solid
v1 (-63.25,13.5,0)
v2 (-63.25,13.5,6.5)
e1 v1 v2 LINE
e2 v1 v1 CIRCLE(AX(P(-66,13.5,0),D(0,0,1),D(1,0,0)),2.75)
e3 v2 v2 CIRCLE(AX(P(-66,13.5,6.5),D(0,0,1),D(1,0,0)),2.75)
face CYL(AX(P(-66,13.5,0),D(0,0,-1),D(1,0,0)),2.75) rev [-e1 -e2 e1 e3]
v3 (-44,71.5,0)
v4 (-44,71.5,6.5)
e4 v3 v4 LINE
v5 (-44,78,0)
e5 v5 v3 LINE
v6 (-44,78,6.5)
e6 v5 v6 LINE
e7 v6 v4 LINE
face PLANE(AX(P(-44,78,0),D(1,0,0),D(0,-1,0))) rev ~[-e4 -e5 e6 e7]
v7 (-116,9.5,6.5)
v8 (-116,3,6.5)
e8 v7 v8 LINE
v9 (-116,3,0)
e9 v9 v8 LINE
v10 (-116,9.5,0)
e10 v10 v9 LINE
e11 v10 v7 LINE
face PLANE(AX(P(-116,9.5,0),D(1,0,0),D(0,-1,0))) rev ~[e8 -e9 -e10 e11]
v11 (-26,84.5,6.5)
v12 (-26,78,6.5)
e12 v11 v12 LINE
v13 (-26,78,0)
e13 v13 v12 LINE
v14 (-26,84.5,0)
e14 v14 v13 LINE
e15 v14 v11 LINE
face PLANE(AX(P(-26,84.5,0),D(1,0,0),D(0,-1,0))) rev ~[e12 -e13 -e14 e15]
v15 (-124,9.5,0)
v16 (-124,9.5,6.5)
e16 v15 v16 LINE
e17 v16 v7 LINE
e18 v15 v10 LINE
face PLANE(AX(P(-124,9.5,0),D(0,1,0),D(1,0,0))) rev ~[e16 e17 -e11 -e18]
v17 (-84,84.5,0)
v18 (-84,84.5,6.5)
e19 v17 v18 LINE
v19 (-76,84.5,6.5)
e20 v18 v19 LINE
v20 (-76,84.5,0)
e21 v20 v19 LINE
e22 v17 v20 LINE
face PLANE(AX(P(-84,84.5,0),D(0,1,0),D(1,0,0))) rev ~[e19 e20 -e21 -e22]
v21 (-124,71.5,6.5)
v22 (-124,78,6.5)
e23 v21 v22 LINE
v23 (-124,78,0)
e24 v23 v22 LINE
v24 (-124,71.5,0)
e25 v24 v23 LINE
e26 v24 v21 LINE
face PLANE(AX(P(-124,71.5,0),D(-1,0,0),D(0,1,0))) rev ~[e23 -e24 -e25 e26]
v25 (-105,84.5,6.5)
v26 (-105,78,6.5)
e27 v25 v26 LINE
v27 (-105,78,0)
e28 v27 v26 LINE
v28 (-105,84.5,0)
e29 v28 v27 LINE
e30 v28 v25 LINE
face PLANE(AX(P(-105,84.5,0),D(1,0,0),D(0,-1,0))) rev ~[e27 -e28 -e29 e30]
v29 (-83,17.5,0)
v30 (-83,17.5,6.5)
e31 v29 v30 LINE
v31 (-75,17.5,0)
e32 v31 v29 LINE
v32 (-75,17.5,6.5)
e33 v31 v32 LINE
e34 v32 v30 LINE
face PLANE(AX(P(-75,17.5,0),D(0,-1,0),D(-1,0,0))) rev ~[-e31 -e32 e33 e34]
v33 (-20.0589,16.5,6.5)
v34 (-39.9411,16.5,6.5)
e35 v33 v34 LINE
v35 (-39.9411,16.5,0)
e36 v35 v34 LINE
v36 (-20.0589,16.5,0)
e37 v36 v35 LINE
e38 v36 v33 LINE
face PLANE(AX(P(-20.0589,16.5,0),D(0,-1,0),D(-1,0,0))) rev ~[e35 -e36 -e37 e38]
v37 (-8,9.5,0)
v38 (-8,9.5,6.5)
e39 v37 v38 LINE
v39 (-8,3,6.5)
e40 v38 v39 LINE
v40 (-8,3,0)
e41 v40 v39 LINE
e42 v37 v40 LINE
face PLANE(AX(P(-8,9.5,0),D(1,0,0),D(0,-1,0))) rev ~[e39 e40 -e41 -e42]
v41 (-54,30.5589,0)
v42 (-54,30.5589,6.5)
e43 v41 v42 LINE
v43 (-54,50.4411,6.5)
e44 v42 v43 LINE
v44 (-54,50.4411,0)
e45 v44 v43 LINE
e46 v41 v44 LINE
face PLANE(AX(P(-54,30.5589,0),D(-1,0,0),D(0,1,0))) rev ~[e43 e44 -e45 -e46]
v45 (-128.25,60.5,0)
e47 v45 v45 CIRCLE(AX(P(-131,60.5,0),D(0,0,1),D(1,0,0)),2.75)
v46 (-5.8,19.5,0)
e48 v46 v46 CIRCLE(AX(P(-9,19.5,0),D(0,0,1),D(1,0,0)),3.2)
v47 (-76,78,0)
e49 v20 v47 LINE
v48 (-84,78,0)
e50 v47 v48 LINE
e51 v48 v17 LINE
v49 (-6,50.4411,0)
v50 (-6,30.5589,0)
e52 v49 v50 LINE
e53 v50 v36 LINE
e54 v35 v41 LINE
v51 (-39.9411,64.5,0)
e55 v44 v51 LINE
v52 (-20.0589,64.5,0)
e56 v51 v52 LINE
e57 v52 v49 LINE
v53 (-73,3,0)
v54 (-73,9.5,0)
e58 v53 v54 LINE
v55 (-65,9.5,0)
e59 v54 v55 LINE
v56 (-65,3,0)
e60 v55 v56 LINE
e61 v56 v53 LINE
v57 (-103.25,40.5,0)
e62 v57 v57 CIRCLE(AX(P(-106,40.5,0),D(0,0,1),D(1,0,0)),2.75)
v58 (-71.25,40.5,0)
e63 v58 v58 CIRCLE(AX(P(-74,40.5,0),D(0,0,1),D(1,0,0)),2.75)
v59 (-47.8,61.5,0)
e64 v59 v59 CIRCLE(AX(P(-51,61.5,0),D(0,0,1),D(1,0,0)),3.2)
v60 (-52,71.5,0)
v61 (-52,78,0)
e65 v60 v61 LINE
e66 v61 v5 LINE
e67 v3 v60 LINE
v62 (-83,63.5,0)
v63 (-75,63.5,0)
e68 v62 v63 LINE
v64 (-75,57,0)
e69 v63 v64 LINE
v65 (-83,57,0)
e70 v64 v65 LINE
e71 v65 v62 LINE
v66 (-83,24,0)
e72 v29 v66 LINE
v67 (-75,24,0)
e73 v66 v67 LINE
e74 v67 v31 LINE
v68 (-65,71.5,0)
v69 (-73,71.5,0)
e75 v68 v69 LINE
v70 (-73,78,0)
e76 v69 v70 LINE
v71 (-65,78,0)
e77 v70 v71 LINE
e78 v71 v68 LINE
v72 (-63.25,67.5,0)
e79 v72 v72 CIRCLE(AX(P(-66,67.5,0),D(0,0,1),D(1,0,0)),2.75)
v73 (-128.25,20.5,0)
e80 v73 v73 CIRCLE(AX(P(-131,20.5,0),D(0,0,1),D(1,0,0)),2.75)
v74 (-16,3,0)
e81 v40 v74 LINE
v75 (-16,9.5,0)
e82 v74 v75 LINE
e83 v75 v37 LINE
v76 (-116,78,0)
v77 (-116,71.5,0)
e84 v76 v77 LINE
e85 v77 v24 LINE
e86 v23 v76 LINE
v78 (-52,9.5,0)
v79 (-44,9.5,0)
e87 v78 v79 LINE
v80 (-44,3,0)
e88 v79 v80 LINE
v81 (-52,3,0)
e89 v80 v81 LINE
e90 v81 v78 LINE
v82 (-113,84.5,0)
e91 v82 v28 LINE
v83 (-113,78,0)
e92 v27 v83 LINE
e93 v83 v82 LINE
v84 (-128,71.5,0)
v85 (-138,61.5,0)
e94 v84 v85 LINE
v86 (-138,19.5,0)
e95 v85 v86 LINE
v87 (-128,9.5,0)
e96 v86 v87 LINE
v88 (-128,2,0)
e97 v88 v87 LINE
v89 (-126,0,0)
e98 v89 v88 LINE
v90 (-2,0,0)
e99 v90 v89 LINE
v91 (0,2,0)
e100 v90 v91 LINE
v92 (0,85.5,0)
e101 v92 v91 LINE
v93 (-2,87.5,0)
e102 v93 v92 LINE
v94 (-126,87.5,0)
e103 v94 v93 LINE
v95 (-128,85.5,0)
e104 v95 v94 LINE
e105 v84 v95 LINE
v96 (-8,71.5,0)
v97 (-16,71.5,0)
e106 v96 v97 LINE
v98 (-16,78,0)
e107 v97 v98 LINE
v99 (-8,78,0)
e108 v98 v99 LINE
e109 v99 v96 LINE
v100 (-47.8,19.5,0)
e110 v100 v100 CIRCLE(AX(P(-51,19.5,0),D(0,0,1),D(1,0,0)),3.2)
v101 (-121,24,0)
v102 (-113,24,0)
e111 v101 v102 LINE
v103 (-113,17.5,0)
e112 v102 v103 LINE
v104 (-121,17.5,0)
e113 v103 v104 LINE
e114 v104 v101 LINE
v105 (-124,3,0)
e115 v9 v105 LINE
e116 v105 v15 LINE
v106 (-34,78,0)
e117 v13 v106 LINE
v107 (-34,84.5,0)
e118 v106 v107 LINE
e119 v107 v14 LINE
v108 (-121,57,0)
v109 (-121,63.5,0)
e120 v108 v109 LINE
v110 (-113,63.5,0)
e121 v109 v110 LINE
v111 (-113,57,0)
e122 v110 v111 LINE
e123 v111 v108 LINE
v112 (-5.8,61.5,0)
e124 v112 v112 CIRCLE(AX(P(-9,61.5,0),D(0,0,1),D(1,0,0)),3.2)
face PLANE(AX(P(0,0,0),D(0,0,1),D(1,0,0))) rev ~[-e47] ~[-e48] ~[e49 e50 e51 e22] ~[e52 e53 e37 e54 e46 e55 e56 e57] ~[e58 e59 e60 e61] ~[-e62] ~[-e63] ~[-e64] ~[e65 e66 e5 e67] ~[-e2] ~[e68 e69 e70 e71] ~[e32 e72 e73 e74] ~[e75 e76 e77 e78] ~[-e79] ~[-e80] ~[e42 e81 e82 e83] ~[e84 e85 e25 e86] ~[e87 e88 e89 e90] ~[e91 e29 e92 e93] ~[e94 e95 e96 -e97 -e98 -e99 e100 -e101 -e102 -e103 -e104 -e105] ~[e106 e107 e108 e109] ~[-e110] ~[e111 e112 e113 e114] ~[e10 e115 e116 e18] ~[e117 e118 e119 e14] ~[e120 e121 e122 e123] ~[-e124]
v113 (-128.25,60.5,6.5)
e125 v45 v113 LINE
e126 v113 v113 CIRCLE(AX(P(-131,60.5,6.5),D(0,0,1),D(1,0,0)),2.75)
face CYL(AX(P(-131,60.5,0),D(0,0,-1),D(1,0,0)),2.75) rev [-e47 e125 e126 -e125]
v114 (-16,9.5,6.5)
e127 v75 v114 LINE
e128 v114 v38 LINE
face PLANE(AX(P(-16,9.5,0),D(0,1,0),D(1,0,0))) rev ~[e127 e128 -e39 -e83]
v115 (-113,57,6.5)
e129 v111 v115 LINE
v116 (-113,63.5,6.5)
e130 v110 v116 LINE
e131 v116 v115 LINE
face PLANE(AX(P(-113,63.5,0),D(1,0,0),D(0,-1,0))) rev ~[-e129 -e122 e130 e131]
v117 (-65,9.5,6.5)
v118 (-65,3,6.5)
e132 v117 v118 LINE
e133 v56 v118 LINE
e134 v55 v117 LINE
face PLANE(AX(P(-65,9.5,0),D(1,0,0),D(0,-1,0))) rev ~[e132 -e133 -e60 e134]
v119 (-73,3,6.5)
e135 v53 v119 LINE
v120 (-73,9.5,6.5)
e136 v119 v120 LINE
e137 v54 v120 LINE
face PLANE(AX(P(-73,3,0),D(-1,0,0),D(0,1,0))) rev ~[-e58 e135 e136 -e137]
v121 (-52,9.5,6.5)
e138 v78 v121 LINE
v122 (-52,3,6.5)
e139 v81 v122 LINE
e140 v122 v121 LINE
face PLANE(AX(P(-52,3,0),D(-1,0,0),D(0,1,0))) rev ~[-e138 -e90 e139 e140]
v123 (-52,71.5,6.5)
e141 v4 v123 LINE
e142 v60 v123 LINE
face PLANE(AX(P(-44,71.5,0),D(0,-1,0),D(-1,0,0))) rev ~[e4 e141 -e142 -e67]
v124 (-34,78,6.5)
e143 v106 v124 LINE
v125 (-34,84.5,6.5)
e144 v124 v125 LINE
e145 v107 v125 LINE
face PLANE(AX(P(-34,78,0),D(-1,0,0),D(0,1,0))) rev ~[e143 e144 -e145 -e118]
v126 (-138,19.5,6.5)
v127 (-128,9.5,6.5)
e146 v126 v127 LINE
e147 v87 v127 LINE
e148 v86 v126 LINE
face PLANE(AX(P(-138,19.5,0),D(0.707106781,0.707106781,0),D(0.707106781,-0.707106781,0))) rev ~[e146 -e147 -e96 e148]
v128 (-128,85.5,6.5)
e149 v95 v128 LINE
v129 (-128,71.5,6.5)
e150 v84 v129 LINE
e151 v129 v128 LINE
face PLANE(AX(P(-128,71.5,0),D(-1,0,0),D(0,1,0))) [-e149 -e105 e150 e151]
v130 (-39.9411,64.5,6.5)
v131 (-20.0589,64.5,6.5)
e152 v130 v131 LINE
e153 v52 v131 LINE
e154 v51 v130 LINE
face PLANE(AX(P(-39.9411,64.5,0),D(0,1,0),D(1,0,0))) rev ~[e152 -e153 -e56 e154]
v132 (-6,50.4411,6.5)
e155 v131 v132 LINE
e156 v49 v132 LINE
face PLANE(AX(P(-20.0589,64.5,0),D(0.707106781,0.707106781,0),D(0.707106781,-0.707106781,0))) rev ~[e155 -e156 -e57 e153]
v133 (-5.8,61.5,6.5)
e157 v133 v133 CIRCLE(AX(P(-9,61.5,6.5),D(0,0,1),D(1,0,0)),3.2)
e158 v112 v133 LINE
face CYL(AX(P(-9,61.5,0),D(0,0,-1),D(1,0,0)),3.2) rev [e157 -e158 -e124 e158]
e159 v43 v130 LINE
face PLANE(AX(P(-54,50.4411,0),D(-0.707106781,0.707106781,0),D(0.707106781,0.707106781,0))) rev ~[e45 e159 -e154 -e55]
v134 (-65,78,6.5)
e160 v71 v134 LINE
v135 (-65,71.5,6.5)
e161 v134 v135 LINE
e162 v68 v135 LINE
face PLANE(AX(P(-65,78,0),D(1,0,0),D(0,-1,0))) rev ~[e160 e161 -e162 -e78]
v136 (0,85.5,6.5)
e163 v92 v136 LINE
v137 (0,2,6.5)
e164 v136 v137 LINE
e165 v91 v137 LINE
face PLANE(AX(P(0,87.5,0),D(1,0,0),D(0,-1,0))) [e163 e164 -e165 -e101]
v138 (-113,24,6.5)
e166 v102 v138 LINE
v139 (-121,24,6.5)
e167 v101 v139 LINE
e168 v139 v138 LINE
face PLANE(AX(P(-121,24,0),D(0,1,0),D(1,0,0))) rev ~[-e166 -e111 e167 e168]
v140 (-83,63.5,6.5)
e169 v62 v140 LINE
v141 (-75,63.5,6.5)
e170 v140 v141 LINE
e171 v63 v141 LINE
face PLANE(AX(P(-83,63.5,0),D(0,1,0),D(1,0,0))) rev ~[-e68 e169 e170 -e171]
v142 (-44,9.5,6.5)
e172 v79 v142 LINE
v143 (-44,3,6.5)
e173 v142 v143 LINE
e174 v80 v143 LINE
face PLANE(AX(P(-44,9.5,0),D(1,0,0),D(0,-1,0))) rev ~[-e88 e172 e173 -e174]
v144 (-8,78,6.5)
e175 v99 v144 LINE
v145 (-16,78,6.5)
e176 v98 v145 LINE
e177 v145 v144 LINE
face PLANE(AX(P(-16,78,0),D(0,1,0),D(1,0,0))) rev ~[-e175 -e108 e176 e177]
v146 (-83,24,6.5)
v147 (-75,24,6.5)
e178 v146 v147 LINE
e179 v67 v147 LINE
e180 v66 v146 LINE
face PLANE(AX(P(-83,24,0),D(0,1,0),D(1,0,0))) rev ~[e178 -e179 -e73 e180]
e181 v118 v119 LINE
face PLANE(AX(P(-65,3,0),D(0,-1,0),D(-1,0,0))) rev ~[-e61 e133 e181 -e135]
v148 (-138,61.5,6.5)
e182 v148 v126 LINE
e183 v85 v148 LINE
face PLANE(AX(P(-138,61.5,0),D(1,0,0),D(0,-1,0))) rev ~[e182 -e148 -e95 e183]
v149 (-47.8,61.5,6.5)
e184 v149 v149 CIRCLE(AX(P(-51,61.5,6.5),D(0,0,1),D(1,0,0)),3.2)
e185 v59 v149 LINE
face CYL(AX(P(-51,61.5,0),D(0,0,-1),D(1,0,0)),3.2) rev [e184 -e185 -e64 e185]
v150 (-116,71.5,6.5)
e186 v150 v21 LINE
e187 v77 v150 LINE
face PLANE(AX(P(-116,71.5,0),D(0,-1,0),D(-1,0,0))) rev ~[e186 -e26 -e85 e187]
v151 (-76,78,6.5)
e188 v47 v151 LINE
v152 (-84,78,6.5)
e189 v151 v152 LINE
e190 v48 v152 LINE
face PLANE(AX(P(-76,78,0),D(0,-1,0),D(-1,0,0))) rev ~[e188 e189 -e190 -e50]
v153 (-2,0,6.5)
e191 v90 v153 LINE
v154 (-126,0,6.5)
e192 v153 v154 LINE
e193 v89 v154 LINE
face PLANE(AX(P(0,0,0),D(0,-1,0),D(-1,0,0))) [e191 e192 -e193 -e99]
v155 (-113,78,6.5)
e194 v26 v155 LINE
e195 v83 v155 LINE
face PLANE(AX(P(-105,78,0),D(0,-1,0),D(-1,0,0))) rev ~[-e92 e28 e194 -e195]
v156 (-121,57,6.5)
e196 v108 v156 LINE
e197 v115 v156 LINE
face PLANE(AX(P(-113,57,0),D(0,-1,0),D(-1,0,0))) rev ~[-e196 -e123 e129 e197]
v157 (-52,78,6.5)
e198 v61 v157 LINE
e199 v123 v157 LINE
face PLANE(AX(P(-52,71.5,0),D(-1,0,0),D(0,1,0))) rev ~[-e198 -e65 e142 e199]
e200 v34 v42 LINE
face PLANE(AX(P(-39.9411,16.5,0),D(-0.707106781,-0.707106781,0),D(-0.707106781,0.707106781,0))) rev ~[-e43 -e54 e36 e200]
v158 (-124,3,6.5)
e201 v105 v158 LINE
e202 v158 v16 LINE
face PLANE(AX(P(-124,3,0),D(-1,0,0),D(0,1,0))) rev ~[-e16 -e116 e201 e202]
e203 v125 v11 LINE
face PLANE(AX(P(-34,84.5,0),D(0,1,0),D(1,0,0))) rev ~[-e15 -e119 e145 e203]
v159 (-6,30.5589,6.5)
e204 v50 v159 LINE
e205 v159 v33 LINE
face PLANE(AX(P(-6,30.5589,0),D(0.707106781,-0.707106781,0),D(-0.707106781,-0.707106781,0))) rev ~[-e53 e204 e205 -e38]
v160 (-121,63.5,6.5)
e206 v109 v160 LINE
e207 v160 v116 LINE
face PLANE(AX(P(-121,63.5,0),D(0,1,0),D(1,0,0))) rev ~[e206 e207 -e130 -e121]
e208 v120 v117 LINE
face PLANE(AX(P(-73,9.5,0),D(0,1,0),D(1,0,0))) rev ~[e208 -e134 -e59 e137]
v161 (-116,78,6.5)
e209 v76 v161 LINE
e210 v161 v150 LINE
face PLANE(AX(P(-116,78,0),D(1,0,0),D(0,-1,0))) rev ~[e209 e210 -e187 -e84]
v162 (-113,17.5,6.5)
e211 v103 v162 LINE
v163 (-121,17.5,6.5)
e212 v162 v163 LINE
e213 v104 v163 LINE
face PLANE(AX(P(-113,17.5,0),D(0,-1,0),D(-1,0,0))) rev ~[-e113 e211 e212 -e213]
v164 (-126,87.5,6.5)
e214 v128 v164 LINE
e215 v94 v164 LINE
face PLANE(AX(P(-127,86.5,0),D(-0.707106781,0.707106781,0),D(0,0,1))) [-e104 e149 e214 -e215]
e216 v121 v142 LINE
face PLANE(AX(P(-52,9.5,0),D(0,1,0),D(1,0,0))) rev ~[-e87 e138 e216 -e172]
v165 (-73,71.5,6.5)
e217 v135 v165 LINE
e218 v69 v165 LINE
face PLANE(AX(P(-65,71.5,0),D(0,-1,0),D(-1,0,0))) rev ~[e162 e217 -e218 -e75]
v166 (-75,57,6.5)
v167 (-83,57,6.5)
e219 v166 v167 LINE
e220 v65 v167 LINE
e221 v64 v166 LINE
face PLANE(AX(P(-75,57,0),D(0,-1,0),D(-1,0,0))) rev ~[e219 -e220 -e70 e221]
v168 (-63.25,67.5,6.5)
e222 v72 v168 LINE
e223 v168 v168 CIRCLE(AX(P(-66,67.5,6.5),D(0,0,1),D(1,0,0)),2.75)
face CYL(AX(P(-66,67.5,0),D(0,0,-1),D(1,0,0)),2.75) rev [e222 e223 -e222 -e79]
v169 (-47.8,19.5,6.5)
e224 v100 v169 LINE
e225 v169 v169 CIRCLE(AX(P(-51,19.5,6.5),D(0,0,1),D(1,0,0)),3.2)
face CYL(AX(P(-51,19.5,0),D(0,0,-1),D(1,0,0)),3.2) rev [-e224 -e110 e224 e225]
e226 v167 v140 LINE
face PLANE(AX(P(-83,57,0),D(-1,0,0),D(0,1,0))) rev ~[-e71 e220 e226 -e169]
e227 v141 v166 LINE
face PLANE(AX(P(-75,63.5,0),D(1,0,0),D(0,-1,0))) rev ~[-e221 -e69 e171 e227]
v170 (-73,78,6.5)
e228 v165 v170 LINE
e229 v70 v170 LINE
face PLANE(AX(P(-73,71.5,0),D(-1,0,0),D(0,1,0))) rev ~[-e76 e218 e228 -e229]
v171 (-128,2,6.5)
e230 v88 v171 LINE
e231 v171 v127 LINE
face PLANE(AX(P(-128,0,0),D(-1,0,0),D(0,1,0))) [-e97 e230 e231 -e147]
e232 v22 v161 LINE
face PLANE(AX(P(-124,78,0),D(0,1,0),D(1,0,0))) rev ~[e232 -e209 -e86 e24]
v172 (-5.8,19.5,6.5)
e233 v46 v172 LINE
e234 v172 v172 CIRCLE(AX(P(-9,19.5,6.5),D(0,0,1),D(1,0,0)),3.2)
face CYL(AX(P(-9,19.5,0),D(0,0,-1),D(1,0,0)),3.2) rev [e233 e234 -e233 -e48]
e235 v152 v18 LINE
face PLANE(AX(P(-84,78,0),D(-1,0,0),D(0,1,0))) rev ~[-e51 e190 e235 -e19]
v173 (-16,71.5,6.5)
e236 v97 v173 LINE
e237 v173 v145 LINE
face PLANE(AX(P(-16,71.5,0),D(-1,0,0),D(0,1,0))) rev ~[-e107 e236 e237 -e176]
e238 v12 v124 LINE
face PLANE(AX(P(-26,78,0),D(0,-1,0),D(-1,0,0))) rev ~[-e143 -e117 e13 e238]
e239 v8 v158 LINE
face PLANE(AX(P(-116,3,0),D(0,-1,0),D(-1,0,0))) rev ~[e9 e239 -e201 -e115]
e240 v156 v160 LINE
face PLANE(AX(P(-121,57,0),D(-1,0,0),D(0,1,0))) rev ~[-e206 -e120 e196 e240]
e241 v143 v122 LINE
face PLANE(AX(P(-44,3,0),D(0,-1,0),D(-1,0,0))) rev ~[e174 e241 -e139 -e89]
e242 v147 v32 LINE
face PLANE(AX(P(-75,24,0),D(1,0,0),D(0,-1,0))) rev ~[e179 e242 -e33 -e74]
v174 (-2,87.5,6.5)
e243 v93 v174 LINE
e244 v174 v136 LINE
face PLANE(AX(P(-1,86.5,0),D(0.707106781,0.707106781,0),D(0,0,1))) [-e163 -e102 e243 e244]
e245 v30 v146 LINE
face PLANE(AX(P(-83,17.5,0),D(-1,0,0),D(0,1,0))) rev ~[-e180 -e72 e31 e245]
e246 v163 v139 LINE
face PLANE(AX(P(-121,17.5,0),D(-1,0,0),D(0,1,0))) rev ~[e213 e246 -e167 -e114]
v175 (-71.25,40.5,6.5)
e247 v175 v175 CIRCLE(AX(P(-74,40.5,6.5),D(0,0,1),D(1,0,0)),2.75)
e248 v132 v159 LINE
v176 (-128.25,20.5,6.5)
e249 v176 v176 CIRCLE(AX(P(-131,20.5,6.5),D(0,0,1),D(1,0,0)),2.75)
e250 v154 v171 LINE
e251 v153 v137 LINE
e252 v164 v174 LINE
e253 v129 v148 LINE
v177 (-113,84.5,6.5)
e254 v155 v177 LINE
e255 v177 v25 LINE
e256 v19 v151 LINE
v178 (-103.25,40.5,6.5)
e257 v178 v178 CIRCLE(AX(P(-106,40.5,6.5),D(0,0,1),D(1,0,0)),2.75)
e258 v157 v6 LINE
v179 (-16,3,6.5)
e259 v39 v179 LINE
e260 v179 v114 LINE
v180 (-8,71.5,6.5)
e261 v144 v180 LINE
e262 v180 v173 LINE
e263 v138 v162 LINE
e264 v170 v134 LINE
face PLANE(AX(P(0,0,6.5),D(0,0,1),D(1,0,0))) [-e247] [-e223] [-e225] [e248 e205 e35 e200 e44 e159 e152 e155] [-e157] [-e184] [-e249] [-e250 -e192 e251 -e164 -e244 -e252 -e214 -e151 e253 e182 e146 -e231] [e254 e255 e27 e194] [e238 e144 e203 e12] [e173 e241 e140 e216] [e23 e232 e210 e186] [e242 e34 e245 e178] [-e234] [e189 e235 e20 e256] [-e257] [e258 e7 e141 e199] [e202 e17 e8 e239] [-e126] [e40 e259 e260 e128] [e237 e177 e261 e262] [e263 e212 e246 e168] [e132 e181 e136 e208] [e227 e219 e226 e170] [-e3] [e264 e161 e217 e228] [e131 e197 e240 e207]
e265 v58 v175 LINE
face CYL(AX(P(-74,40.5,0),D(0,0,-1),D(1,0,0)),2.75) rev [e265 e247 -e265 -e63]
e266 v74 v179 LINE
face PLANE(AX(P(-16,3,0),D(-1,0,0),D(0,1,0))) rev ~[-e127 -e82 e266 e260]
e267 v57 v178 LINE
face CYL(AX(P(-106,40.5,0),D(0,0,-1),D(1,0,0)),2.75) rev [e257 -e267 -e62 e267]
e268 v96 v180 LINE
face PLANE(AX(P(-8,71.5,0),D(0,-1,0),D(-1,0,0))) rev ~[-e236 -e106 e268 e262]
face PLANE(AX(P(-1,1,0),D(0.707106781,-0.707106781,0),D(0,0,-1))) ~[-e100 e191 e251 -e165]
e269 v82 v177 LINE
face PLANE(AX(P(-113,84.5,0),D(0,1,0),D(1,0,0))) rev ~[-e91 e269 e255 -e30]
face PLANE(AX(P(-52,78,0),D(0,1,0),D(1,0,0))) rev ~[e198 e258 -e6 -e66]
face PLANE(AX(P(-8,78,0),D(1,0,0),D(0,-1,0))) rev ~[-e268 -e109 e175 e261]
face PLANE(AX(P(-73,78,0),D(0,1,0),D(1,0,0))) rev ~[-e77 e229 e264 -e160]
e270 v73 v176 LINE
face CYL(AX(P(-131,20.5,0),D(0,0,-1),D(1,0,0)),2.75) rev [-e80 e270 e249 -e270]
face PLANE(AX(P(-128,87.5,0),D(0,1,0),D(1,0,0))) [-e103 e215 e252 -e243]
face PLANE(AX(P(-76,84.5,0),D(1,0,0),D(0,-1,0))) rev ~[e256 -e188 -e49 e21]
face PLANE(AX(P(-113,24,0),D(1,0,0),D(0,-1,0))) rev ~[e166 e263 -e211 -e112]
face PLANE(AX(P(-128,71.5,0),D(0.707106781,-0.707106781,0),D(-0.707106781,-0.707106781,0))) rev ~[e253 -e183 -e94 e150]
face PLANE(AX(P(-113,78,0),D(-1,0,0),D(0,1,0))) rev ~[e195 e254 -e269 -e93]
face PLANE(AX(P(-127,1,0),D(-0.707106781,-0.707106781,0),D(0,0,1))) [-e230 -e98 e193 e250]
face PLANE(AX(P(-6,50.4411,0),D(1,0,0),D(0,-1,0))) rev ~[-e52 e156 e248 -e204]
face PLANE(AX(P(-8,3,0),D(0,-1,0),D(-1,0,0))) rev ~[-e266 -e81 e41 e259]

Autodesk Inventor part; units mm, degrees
ref_plane "YZ Plane" through (0, 0, 0) normal (1, 0, 0) x (0, 1, 0)
ref_plane "XZ Plane" through (0, 0, 0) normal (0, 1, 0) x (-1, 0, 0)
ref_plane "XY Plane" through (0, 0, 0) normal (0, 0, 1) x (1, 0, 0)
sketch "Sketch1" plane through (0, 0, 0) normal (0, 0, 1) x (1, 0, 0)
  line L0 (0, 0) -> (-128, 0)
  line L1 (-128, 87.5) -> (0, 87.5)
  line L2 (0, 87.5) -> (0, 0)
  line L3 (-128, 71.5) -> (-138, 61.5)
  line L4 (-138, 61.5) -> (-138, 19.5)
  line L5 (-138, 19.5) -> (-128, 9.5)
  line L6 (-128, 0) -> (-128, 9.5)
  line L7 (-128, 71.5) -> (-128, 87.5)
  line L8 (-52, 9.5) -> (-44, 9.5)
  line L9 (-44, 9.5) -> (-44, 3)
  line L10 (-44, 3) -> (-52, 3)
  line L11 (-52, 3) -> (-52, 9.5)
  line L12 (-52, 78) -> (-44, 78)
  line L13 (-44, 78) -> (-44, 71.5)
  line L14 (-44, 71.5) -> (-52, 71.5)
  line L15 (-52, 71.5) -> (-52, 78)
  line L16 (-16, 78) -> (-8, 78)
  line L17 (-8, 78) -> (-8, 71.5)
  line L18 (-8, 71.5) -> (-16, 71.5)
  line L19 (-16, 71.5) -> (-16, 78)
  line L20 (-16, 9.5) -> (-8, 9.5)
  line L21 (-8, 9.5) -> (-8, 3)
  line L22 (-8, 3) -> (-16, 3)
  line L23 (-16, 3) -> (-16, 9.5)
  line L24 (-34, 84.5) -> (-26, 84.5)
  line L25 (-26, 84.5) -> (-26, 78)
  line L26 (-26, 78) -> (-34, 78)
  line L27 (-34, 78) -> (-34, 84.5)
  line L28 (-6, 50.4411) -> (-6, 30.5589)
  line L29 (-6, 30.5589) -> (-20.0589, 16.5)
  line L30 (-20.0589, 16.5) -> (-39.9411, 16.5)
  line L31 (-39.9411, 16.5) -> (-54, 30.5589)
  line L32 (-54, 30.5589) -> (-54, 50.4411)
  line L33 (-54, 50.4411) -> (-39.9411, 64.5)
  line L34 (-39.9411, 64.5) -> (-20.0589, 64.5)
  line L35 (-20.0589, 64.5) -> (-6, 50.4411)
  line L36 (-51, 61.5) -> (-9, 61.5) construction
  line L37 (-9, 61.5) -> (-9, 19.5) construction
  line L38 (-9, 19.5) -> (-51, 19.5) construction
  line L39 (-51, 19.5) -> (-51, 61.5) construction
  circle A0 centre (-51, 61.5) radius 3.2
  circle A1 centre (-51, 19.5) radius 3.2
  circle A2 centre (-9, 19.5) radius 3.2
  circle A3 centre (-9, 61.5) radius 3.2
  circle A4 centre (-131, 60.5) radius 2.75
  circle A5 centre (-131, 20.5) radius 2.75
  line L40 (-124, 78) -> (-116, 78)
  line L41 (-116, 78) -> (-116, 71.5)
  line L42 (-116, 71.5) -> (-124, 71.5)
  line L43 (-124, 71.5) -> (-124, 78)
  line L44 (-124, 9.5) -> (-116, 9.5)
  line L45 (-116, 9.5) -> (-116, 3)
  line L46 (-116, 3) -> (-124, 3)
  line L47 (-124, 3) -> (-124, 9.5)
  line L48 (-121, 63.5) -> (-113, 63.5)
  line L49 (-113, 63.5) -> (-113, 57)
  line L50 (-113, 57) -> (-121, 57)
  line L51 (-121, 57) -> (-121, 63.5)
  line L52 (-121, 24) -> (-113, 24)
  line L53 (-113, 24) -> (-113, 17.5)
  line L54 (-113, 17.5) -> (-121, 17.5)
  line L55 (-121, 17.5) -> (-121, 24)
  circle A6 centre (-66, 67.5) radius 2.75
  circle A7 centre (-66, 13.5) radius 2.75
  line L56 (-60, 87.5) -> (-60, 0) construction
  line L57 (-132, 67.5) -> (-60, 67.5) construction
  line L58 (-132, 13.5) -> (-60, 13.5) construction
  line L59 (-83, 63.5) -> (-75, 63.5)
  line L60 (-75, 63.5) -> (-75, 57)
  line L61 (-75, 57) -> (-83, 57)
  line L62 (-83, 57) -> (-83, 63.5)
  line L63 (-83, 24) -> (-75, 24)
  line L64 (-75, 24) -> (-75, 17.5)
  line L65 (-75, 17.5) -> (-83, 17.5)
  line L66 (-83, 17.5) -> (-83, 24)
  line L67 (-73, 78) -> (-65, 78)
  line L68 (-65, 78) -> (-65, 71.5)
  line L69 (-65, 71.5) -> (-73, 71.5)
  line L70 (-73, 71.5) -> (-73, 78)
  line L71 (-73, 9.5) -> (-65, 9.5)
  line L72 (-65, 9.5) -> (-65, 3)
  line L73 (-65, 3) -> (-73, 3)
  line L74 (-73, 3) -> (-73, 9.5)
  line L75 (-113, 84.5) -> (-105, 84.5)
  line L76 (-105, 84.5) -> (-105, 78)
  line L77 (-105, 78) -> (-113, 78)
  line L78 (-113, 78) -> (-113, 84.5)
  line L79 (-84, 84.5) -> (-76, 84.5)
  line L80 (-76, 84.5) -> (-76, 78)
  line L81 (-76, 78) -> (-84, 78)
  line L82 (-84, 78) -> (-84, 84.5)
  circle A8 centre (-106, 40.5) radius 2.75
  circle A9 centre (-74, 40.5) radius 2.75
  point P0 (-30, 40.5)
  point P1 (-138, 40.5)
  point P2 (-54, 40.5)
  point P3 (-51, 40.5)
  point P4 (-30, 61.5)
  point P5 (-30, 64.5)
  dimension "d1" = 45
  dimension "d2" = 10
  dimension "d5" = 3
  dimension "d6" = 8
  dimension "d7" = 8
  dimension "d8" = 6.5
  dimension "d10" = 3
  dimension "d11" = 48
  dimension "d12" = 8
  dimension "d13" = 6
  dimension "d14" = 42
  dimension "d15" = 42
  dimension "d16" = 6.4
  dimension "d17" = 6.4
  dimension "d18" = 6.4
  dimension "d19" = 6.4
  dimension "d20" = 5.5
  dimension "d21" = 5.5
  dimension "d22" = 7
  dimension "d23" = 11
  dimension "d24" = 11
  dimension "d25" = 6.5
  dimension "d26" = 8
  dimension "d27" = 6.5
  dimension "d28" = 6.5
  dimension "d29" = 8
  dimension "d30" = 6.5
  dimension "d31" = 8
  dimension "d32" = 8
  dimension "d33" = 5.5
  dimension "d34" = 5.5
  dimension "d35" = 4
  dimension "d36" = 4
  dimension "d37" = 8
  dimension "d38" = 8
  dimension "d39" = 8
  dimension "d40" = 4
  dimension "d41" = 8
  dimension "d42" = 128
  dimension "d43" = 68
  dimension "d44" = 8
  dimension "d45" = 43
  dimension "d47" = 10
  dimension "d48" = 15
  dimension "d49" = 62
  dimension "d50" = 10
  dimension "d52" = 8
  dimension "d53" = 3
  dimension "d54" = 8
  dimension "d55" = 3
  dimension "d56" = 5.5
  dimension "d57" = 5.5
  dimension "d58" = 14
  dimension "d59" = 32
  dimension "d66" = 54
extrude "Extrusion1" add sketch "Sketch1" along normal blind 6.5
chamfer "Chamfer1" distance 2 angle 45 4 edges at (-128, 0, 3.25) (-128, 87.5, 3.25) (0, 87.5, 3.25) (0, 0, 3.25)
properties part number "x_iddler_bottom"
